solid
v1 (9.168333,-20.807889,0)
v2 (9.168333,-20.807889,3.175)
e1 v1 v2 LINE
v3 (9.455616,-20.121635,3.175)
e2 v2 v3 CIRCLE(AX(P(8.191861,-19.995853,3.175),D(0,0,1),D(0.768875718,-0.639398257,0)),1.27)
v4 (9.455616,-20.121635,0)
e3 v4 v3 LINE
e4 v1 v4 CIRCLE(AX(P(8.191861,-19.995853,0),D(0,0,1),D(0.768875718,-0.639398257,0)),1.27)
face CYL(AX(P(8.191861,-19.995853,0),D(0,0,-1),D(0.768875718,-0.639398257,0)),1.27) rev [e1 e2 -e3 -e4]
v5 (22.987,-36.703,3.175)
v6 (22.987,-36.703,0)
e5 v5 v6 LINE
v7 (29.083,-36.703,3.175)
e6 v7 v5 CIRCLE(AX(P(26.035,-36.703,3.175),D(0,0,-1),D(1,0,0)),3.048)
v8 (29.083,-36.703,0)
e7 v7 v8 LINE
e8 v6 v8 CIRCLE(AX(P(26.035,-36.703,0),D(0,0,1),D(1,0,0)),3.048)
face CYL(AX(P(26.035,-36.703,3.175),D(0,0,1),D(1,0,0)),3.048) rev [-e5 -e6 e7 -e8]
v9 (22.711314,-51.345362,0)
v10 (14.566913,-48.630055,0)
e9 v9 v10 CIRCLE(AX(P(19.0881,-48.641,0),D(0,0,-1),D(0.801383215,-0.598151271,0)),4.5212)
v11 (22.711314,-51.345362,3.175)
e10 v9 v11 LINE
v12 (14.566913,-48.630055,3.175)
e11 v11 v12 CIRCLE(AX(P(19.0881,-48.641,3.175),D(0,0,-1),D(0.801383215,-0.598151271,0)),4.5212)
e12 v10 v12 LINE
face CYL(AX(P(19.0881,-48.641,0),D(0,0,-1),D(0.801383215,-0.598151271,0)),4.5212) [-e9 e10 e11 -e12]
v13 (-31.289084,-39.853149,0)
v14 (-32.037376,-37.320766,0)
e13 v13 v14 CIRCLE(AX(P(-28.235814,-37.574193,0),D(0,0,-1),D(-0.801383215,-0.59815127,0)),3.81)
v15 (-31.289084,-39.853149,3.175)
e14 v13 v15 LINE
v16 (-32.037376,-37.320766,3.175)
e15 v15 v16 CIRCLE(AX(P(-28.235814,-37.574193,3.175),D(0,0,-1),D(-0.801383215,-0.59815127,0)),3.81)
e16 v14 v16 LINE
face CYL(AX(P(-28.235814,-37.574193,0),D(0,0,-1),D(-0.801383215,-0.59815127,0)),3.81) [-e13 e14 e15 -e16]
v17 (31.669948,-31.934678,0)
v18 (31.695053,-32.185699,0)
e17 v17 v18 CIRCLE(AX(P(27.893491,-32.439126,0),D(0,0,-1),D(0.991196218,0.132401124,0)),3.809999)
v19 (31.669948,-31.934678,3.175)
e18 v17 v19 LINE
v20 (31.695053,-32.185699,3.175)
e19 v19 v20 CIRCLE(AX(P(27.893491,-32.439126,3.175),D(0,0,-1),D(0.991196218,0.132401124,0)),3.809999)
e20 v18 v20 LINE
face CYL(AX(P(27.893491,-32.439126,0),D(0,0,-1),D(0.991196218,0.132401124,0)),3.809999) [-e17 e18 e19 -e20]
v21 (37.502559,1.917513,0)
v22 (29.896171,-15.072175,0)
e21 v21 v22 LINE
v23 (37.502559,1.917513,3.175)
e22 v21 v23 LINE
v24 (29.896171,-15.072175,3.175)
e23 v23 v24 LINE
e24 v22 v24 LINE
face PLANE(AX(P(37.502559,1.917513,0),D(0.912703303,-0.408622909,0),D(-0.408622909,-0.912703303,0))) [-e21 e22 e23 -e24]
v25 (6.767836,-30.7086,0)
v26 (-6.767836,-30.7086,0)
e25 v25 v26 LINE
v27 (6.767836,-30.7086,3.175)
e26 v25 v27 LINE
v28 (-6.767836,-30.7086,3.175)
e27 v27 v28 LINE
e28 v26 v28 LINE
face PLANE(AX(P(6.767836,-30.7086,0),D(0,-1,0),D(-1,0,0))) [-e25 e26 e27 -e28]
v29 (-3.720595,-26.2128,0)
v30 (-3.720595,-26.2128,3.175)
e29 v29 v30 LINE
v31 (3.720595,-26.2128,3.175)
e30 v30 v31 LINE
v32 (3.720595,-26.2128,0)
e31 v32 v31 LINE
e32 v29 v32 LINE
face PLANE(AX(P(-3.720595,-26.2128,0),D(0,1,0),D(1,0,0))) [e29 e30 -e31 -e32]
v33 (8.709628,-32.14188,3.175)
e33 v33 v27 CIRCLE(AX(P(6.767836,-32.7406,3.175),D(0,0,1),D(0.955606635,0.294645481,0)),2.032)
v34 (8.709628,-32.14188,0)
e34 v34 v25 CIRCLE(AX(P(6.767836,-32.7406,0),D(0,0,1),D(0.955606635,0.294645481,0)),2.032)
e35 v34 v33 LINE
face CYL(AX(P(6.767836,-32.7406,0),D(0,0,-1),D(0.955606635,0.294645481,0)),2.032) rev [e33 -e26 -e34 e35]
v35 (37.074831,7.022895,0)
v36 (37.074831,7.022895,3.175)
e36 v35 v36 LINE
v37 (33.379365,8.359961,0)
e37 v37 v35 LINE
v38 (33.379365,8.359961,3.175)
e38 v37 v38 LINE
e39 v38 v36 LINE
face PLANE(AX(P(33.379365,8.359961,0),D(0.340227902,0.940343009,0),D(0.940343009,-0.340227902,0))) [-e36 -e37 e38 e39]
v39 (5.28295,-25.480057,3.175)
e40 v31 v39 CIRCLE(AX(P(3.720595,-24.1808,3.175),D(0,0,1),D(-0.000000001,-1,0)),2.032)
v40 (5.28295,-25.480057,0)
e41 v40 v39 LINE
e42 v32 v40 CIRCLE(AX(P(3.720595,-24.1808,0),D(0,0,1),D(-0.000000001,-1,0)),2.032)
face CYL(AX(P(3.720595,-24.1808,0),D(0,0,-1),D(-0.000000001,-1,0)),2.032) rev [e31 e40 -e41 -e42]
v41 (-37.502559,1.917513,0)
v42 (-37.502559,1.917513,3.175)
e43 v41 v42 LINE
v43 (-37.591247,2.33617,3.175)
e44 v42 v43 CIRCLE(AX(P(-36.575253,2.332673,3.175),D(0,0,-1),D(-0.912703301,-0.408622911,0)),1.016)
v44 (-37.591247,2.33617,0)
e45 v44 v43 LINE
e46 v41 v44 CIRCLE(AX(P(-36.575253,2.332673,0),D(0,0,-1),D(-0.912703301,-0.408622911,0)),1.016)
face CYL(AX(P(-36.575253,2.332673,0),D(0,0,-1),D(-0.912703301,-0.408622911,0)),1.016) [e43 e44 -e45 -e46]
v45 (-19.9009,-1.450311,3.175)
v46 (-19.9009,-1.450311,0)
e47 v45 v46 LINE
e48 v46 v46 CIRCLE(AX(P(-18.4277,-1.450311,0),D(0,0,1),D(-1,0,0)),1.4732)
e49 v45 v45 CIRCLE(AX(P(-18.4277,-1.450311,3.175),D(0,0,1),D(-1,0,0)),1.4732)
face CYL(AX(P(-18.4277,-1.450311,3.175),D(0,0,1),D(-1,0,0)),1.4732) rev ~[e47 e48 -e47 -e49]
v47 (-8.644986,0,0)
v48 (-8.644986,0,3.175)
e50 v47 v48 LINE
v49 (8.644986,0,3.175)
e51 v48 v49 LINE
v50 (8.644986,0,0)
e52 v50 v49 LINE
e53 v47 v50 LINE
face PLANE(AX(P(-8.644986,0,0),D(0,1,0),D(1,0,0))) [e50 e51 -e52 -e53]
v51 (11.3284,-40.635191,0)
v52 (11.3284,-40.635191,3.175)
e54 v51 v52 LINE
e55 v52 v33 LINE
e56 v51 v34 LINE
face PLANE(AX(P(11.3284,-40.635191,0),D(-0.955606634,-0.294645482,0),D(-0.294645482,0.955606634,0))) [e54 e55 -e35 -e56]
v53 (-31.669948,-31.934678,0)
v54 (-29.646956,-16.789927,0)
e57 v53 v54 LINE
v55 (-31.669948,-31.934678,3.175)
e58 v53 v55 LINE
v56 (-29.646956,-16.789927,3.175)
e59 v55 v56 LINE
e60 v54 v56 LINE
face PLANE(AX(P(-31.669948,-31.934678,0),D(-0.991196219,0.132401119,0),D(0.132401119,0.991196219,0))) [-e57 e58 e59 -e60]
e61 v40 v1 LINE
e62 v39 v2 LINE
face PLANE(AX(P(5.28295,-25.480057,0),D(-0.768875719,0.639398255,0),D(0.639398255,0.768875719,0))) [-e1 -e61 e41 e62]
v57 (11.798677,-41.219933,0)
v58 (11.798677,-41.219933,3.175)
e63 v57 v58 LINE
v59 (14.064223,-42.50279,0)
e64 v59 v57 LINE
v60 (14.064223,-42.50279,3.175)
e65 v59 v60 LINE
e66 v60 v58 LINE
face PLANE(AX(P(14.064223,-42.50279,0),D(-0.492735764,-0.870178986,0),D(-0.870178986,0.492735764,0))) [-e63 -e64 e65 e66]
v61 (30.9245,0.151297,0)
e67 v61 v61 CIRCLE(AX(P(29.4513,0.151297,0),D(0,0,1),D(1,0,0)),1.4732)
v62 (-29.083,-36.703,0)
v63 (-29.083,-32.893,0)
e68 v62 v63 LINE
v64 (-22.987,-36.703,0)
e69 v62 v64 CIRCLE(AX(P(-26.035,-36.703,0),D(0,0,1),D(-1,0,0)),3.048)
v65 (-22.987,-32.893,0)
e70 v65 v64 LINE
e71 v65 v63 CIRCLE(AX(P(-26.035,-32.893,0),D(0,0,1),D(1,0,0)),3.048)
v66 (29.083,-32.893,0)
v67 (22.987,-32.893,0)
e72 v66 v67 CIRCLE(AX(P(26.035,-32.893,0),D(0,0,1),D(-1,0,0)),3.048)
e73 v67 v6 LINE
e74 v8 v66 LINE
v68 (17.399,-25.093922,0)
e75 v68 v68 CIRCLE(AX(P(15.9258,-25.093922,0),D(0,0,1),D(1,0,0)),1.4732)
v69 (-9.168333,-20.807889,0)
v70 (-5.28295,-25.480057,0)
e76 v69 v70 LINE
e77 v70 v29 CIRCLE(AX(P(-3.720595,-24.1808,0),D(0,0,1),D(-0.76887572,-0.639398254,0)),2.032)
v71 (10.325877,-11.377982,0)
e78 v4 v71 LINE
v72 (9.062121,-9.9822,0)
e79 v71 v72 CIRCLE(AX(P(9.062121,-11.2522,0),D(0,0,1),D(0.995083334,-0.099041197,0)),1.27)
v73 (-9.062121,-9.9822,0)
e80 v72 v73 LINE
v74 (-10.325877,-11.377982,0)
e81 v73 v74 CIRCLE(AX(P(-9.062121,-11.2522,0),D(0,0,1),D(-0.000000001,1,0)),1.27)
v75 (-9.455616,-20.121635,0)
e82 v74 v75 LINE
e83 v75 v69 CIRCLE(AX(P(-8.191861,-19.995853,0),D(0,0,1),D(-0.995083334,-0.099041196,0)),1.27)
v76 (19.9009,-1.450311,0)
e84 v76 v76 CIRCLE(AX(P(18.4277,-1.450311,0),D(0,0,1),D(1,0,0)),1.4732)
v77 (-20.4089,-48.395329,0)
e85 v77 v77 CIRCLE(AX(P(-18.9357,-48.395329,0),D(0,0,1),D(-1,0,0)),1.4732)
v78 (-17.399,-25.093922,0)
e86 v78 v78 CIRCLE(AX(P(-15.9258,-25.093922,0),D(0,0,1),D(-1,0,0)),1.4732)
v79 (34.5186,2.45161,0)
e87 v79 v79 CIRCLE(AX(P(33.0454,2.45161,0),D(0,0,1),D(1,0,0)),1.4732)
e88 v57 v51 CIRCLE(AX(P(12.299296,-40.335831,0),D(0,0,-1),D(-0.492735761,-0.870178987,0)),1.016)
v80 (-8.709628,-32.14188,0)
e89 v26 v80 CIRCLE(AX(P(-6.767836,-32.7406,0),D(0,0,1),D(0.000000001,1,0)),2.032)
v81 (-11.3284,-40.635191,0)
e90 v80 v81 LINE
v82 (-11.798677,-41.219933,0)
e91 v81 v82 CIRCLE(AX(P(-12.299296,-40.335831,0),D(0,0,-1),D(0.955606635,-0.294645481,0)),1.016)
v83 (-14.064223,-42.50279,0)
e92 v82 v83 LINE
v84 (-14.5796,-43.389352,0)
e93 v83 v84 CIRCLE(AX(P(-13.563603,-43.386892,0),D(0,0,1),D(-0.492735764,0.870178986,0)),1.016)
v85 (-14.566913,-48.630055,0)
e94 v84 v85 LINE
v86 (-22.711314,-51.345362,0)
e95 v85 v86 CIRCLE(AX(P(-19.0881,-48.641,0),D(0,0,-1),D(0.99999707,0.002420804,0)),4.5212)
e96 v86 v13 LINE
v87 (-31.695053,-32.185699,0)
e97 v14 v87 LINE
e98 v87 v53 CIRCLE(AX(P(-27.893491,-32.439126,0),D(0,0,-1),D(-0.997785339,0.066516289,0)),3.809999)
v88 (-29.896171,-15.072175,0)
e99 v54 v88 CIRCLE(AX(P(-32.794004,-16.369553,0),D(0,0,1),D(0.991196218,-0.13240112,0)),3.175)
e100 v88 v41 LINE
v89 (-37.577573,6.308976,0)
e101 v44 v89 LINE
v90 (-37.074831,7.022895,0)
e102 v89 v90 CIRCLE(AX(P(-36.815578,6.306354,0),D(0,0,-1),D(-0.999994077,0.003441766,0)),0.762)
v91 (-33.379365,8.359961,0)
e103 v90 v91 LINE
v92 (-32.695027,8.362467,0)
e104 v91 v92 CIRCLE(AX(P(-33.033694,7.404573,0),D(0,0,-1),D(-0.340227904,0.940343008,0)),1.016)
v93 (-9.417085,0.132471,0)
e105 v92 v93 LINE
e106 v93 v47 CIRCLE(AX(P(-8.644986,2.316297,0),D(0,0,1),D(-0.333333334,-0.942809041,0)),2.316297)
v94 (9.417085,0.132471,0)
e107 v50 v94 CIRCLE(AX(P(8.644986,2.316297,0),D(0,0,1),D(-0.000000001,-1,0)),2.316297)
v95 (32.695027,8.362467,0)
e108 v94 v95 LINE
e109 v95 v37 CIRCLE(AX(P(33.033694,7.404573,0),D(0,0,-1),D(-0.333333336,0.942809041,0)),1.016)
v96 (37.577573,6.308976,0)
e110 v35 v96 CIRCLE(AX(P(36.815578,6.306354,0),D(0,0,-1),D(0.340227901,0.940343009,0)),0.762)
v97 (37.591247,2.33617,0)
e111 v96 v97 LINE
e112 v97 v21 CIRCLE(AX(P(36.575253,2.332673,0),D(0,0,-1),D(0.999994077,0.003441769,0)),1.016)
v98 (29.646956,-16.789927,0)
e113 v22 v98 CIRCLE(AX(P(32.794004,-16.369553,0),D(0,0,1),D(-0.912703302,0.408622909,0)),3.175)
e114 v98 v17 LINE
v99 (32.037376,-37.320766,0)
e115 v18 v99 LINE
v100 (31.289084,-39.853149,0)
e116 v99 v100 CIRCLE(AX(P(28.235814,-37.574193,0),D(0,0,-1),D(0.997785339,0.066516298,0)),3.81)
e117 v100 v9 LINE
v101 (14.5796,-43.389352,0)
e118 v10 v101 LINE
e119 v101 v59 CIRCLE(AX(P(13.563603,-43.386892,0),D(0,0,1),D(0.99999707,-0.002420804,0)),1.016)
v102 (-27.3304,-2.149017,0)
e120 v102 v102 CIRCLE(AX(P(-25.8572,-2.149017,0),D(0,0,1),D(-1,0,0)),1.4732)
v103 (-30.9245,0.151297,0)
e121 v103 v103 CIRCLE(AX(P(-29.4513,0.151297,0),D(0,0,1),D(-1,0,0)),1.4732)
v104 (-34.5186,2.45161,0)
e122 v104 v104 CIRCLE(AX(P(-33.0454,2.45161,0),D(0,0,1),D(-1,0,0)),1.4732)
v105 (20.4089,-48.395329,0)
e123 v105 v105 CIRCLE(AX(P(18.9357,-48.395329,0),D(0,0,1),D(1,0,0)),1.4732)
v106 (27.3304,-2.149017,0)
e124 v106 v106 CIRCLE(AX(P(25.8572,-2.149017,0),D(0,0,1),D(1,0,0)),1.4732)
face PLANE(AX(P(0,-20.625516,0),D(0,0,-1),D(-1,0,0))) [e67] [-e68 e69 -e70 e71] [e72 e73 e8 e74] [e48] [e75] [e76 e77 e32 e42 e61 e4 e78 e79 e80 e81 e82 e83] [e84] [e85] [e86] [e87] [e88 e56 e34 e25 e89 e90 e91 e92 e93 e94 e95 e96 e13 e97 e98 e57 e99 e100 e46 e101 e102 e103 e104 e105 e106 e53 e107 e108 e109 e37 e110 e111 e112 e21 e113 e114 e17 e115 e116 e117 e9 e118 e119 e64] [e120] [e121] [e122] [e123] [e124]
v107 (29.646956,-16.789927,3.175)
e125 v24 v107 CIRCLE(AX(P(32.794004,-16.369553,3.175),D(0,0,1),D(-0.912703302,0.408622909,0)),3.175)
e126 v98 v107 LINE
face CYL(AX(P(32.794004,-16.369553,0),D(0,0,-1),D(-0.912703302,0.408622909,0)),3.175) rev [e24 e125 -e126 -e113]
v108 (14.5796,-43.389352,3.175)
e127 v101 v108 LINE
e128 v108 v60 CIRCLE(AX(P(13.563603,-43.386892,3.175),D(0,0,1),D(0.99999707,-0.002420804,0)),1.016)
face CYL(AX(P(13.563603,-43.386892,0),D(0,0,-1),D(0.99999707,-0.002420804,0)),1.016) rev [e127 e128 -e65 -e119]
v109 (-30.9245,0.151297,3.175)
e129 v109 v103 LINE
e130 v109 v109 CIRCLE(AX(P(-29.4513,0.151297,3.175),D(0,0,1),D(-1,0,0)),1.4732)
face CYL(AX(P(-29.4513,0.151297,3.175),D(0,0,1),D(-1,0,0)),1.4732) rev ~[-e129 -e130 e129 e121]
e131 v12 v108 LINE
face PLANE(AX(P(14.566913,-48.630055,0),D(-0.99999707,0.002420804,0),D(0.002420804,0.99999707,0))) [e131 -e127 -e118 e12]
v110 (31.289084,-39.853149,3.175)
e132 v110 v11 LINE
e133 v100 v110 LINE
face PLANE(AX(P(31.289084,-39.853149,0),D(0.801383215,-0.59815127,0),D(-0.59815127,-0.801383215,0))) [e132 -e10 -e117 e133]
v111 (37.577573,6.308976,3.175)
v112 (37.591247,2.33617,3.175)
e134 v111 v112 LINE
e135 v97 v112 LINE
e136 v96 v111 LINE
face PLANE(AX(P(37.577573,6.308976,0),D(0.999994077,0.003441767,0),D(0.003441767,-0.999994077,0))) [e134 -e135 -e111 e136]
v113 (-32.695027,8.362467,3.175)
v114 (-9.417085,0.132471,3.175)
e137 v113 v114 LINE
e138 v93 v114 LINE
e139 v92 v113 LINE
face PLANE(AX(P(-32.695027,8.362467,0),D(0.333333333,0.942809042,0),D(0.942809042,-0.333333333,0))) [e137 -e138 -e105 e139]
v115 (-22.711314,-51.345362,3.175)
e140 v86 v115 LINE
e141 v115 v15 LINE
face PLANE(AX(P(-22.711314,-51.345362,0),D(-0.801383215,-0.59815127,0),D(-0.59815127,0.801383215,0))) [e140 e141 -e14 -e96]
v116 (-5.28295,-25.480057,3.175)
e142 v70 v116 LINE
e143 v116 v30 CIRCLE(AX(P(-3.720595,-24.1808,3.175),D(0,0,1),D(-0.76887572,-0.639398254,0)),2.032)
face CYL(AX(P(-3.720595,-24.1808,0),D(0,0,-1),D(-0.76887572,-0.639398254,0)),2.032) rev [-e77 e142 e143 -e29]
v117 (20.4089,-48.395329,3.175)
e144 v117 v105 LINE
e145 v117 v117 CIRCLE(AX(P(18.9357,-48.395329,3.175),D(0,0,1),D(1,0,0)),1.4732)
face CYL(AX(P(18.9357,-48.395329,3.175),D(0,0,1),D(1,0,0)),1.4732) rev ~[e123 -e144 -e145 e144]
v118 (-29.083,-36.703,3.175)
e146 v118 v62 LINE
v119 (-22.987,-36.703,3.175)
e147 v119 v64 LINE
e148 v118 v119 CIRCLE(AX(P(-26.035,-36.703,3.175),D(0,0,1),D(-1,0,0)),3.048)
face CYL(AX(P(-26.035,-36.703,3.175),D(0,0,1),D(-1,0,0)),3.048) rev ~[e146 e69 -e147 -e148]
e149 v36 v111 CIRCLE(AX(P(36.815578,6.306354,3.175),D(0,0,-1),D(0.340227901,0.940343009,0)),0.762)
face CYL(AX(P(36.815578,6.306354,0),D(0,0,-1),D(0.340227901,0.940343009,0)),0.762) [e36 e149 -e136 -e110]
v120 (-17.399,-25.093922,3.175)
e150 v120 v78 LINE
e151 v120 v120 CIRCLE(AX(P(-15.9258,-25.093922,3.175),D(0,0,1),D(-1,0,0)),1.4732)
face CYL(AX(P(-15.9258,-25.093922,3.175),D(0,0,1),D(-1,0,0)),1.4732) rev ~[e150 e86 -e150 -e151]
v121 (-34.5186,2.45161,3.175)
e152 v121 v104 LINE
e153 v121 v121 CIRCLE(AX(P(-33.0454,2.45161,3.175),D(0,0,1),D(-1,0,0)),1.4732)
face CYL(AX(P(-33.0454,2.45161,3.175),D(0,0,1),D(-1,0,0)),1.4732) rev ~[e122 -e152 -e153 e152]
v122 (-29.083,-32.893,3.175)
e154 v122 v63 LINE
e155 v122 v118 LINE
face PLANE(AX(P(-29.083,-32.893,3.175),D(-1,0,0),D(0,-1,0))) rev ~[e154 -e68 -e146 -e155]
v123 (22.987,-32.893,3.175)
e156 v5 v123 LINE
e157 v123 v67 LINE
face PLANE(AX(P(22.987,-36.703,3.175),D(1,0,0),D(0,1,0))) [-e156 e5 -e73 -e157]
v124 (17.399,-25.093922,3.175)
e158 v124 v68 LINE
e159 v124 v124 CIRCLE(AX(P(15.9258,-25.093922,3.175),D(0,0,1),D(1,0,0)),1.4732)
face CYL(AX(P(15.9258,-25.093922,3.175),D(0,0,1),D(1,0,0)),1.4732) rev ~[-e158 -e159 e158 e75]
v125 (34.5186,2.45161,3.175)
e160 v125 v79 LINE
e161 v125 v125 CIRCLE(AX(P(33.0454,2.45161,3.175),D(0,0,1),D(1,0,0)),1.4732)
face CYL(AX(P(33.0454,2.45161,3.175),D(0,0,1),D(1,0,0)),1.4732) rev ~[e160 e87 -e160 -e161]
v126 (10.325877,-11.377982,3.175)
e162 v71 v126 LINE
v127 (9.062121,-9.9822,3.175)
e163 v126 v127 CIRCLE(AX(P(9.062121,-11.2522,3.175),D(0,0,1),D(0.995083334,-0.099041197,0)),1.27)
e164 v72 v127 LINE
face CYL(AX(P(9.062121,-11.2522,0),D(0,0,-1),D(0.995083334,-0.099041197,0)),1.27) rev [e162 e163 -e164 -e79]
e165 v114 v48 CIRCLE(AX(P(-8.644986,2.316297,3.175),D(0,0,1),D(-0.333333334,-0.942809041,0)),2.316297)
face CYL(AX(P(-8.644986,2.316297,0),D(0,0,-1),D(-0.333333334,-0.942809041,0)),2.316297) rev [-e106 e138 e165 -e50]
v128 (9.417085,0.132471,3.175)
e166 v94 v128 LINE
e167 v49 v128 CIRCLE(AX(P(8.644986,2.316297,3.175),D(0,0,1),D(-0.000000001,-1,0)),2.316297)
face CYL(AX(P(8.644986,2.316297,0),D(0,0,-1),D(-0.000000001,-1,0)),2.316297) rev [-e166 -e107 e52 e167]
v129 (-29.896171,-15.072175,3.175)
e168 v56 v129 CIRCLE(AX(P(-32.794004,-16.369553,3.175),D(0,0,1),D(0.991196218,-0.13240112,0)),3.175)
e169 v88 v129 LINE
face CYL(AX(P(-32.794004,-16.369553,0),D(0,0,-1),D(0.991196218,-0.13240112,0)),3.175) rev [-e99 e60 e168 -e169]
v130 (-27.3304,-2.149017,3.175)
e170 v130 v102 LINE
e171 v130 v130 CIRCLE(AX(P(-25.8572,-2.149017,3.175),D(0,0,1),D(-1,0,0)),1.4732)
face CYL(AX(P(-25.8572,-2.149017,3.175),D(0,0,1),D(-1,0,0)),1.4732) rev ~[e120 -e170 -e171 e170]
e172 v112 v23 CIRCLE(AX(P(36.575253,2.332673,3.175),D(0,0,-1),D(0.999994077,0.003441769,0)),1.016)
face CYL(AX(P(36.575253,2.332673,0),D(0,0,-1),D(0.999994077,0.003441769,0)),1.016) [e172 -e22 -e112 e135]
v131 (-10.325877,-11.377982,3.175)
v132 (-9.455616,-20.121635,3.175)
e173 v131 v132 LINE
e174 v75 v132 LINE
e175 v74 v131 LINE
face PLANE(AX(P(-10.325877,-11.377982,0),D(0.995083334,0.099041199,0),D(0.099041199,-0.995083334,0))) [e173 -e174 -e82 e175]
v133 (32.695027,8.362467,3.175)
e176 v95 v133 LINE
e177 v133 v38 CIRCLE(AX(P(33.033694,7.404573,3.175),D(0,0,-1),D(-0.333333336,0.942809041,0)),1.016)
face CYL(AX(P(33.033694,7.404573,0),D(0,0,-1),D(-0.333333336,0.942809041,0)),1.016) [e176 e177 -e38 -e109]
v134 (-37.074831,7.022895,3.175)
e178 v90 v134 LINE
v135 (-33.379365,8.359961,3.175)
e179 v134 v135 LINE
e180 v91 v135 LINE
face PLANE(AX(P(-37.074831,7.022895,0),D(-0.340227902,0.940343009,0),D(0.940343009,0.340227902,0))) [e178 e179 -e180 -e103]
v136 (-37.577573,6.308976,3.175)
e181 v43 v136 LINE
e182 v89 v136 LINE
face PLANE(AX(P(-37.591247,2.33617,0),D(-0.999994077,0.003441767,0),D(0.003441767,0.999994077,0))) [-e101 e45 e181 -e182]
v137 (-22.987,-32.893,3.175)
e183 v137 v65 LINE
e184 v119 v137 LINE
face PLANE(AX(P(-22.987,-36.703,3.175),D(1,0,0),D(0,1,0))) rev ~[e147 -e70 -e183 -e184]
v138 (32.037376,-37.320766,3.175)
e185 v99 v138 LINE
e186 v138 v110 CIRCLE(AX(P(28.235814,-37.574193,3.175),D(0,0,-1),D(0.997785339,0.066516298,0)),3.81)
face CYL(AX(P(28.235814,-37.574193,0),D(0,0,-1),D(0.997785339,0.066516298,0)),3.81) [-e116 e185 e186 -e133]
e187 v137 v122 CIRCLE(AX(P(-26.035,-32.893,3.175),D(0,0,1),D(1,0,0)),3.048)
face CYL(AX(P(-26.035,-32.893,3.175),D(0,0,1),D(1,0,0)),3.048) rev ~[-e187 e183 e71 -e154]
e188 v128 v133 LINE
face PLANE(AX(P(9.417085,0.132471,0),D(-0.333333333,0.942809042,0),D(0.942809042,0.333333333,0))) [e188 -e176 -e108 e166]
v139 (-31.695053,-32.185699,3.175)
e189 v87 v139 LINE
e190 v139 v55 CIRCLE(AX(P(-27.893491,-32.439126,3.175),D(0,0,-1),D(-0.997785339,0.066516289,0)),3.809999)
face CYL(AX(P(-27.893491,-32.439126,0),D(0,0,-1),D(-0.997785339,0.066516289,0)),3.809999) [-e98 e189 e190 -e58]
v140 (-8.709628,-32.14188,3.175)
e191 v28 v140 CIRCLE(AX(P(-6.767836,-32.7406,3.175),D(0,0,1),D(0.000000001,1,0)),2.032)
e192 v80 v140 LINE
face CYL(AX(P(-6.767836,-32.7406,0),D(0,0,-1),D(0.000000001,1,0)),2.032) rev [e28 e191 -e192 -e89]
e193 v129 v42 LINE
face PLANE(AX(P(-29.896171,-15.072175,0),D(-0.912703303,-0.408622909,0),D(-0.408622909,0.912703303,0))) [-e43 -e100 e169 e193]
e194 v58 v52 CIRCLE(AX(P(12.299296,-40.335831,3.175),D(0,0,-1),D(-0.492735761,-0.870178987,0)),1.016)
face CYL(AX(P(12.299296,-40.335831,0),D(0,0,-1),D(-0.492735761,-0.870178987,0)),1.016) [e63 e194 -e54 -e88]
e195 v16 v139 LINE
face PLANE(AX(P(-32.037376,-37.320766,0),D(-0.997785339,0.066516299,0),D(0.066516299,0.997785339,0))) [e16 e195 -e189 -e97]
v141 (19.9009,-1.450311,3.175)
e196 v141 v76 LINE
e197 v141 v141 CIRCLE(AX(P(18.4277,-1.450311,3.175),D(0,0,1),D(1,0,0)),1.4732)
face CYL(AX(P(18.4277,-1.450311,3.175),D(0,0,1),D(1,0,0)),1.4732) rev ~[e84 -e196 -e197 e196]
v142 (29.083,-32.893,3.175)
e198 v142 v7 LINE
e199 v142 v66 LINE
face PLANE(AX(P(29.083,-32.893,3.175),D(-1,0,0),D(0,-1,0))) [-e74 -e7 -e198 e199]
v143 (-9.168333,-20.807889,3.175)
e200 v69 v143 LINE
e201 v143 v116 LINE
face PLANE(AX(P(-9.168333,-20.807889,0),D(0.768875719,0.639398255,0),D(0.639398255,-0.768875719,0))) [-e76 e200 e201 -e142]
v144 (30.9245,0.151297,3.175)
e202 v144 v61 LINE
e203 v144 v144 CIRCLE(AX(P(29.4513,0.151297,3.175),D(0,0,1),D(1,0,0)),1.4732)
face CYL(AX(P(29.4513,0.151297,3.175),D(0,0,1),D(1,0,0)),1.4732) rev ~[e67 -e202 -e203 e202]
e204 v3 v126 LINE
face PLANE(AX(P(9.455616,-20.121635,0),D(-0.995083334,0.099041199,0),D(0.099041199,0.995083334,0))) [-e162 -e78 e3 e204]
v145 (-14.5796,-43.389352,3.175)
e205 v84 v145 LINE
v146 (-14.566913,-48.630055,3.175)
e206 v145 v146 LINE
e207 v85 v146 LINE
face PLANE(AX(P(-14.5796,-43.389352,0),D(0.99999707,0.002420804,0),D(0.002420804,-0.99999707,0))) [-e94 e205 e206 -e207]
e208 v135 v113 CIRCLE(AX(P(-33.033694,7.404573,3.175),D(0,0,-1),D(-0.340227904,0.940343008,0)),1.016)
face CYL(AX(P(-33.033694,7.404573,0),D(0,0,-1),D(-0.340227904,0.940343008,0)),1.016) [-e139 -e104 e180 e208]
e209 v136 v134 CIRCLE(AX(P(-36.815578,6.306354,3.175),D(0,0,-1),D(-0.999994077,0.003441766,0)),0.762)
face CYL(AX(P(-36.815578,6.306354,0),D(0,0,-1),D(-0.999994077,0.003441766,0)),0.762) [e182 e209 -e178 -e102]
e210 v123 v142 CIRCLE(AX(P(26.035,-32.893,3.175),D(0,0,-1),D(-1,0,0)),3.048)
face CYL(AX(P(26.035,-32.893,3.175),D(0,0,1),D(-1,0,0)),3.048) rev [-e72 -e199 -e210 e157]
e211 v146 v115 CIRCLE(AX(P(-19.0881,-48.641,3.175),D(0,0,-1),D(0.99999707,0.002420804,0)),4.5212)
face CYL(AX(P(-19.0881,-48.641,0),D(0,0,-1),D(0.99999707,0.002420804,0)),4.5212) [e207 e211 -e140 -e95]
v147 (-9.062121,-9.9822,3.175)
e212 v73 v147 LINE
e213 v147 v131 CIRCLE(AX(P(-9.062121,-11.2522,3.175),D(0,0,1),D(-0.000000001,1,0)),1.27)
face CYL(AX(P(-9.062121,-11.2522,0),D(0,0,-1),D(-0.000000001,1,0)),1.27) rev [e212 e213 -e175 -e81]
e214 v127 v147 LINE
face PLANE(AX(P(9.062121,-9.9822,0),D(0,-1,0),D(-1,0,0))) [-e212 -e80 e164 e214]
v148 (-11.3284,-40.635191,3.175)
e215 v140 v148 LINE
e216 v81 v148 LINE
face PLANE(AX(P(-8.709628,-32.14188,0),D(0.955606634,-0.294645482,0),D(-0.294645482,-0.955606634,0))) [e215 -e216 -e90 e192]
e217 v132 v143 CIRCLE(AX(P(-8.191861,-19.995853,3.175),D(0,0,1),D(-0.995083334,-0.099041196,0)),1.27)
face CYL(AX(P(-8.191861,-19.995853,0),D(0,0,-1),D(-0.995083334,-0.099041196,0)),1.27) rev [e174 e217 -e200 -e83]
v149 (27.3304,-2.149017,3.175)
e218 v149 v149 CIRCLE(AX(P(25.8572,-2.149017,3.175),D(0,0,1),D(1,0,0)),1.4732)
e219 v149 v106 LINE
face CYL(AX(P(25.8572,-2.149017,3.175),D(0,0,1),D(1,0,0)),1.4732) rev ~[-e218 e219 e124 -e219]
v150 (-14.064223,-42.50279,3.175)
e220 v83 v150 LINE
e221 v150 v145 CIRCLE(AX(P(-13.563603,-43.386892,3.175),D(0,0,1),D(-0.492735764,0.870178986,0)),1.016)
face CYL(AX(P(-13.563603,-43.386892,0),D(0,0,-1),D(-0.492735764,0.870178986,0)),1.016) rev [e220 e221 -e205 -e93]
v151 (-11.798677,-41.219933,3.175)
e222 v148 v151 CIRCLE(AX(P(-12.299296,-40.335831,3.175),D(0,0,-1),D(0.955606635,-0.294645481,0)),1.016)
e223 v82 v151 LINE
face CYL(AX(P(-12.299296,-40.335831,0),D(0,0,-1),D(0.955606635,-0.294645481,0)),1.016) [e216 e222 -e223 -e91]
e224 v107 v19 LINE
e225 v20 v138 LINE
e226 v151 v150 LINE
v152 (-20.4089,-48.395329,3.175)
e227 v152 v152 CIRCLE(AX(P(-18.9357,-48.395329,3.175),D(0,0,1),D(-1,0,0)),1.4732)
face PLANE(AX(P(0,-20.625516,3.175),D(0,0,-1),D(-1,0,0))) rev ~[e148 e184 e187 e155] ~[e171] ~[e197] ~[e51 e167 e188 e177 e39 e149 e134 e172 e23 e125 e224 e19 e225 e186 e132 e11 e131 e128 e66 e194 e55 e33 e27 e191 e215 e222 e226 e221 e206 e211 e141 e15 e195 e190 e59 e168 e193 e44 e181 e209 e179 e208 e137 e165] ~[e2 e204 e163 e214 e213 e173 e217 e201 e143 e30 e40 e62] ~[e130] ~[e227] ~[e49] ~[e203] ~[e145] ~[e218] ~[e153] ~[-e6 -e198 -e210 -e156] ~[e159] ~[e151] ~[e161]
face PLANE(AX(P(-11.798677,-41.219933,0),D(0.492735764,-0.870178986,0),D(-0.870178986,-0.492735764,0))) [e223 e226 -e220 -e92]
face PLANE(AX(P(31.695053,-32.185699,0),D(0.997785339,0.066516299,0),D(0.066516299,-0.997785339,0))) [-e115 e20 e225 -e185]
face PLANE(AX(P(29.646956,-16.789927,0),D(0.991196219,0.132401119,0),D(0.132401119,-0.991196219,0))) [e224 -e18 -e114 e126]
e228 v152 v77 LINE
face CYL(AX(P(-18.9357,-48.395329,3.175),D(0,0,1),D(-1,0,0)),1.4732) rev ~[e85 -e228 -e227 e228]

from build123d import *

# Parameters (mm, degrees)
BOSS_EXTRUDE1_DEPTH = 3.175
SKETCH2_R           = 1.4732
CUT_EXTRUDE1_DEPTH  = 66.187440595


with BuildPart() as part:
    # Sketch1 → Boss-Extrude1 (new body)
    with BuildSketch(Plane.XY):
        with BuildLine():
            Line((-8.644986321, 0), (8.644986321, 0))
            ThreePointArc((8.644986321, 0), (9.036676671, 0.033358008), (9.41708521, 0.132471226))
            Line((9.41708521, 0.132471226), (32.695027169, 8.362466532))
            ThreePointArc((32.695027169, 8.362466532), (33.037413575, 8.420565737), (33.379365385, 8.359961043))
            Line((33.379365385, 8.359961043), (37.074831276, 7.022895104))
            ThreePointArc((37.074831276, 7.022895104), (37.438600447, 6.745086623), (37.577573101, 6.308976358))
            Line((37.577573101, 6.308976358), (37.591246654, 2.336170232))
            ThreePointArc((37.591246654, 2.336170232), (37.569195736, 2.122118926), (37.502559227, 1.917512522))
            Line((37.502559227, 1.917512522), (29.896170993, -15.072175319))
            ThreePointArc((29.896170993, -15.072175319), (29.651900561, -15.913690011), (29.646955985, -16.789926606))
            Line((29.646955985, -16.789926606), (31.669948024, -31.934678241))
            ThreePointArc((31.669948024, -31.934678241), (31.684578491, -32.059980985), (31.695052571, -32.185699407))
            Line((31.695052571, -32.185699407), (32.037376325, -37.320766007))
            ThreePointArc((32.037376325, -37.320766007), (31.88963719, -38.653858534), (31.289084234, -39.853149444))
            Line((31.289084234, -39.853149444), (22.711313793, -51.345361524))
            ThreePointArc((22.711313793, -51.345361524), (17.658131065, -52.930106933), (14.566913248, -48.630055061))
            Line((14.566913248, -48.630055061), (14.5796, -43.389351757))
            ThreePointArc((14.5796, -43.389351757), (14.441970337, -42.876278099), (14.064222513, -42.502790371))
            Line((14.064222513, -42.502790371), (11.798676805, -41.21993315))
            ThreePointArc((11.798676805, -41.21993315), (11.507576341, -40.972569428), (11.3284, -40.635191111))
            Line((11.3284, -40.635191111), (8.709628272, -32.14188038))
            ThreePointArc((8.709628272, -32.14188038), (7.974572044, -31.105726569), (6.767835591, -30.7086))
            Line((6.767835591, -30.7086), (-6.767835591, -30.7086))
            ThreePointArc((-6.767835591, -30.7086), (-7.974572044, -31.105726569), (-8.709628272, -32.14188038))
            Line((-8.709628272, -32.14188038), (-11.3284, -40.635191111))
            ThreePointArc((-11.3284, -40.635191111), (-11.507576341, -40.972569428), (-11.798676805, -41.21993315))
            Line((-11.798676805, -41.21993315), (-14.064222513, -42.502790371))
            ThreePointArc((-14.064222513, -42.502790371), (-14.441970337, -42.876278099), (-14.5796, -43.389351757))
            Line((-14.5796, -43.389351757), (-14.566913248, -48.630055061))
            ThreePointArc((-14.566913248, -48.630055061), (-17.658131065, -52.930106933), (-22.711313793, -51.345361524))
            Line((-22.711313793, -51.345361524), (-31.289084234, -39.853149444))
            ThreePointArc((-31.289084234, -39.853149444), (-31.88963719, -38.653858534), (-32.037376325, -37.320766007))
            Line((-32.037376325, -37.320766007), (-31.695052571, -32.185699407))
            ThreePointArc((-31.695052571, -32.185699407), (-31.684578491, -32.059980985), (-31.669948024, -31.934678241))
            Line((-31.669948024, -31.934678241), (-29.646955985, -16.789926606))
            ThreePointArc((-29.646955985, -16.789926606), (-29.651900561, -15.913690011), (-29.896170993, -15.072175319))
            Line((-29.896170993, -15.072175319), (-37.502559227, 1.917512522))
            ThreePointArc((-37.502559227, 1.917512522), (-37.569195736, 2.122118926), (-37.591246654, 2.336170232))
            Line((-37.591246654, 2.336170232), (-37.577573101, 6.308976358))
            ThreePointArc((-37.577573101, 6.308976358), (-37.438600447, 6.745086623), (-37.074831276, 7.022895104))
            Line((-37.074831276, 7.022895104), (-33.379365385, 8.359961043))
            ThreePointArc((-33.379365385, 8.359961043), (-33.037413575, 8.420565737), (-32.695027169, 8.362466532))
            Line((-32.695027169, 8.362466532), (-9.41708521, 0.132471226))
            ThreePointArc((-9.41708521, 0.132471226), (-9.036676671, 0.033358008), (-8.644986321, 0))
        make_face()
        with BuildLine():
            Line((-3.720594556, -26.2128), (3.720594556, -26.2128))
            ThreePointArc((3.720594556, -26.2128), (4.583419353, -26.020516655), (5.282950018, -25.480057253))
            Line((5.282950018, -25.480057253), (9.168332687, -20.807888736))
            ThreePointArc((9.168332687, -20.807888736), (9.363351592, -20.486269793), (9.455616357, -20.121635275))
            Line((9.455616357, -20.121635275), (10.325877008, -11.377982322))
            ThreePointArc((10.325877008, -11.377982322), (10.003567813, -10.39980442), (9.062121174, -9.9822))
            Line((9.062121174, -9.9822), (-9.062121174, -9.9822))
            ThreePointArc((-9.062121174, -9.9822), (-10.003567813, -10.39980442), (-10.325877008, -11.377982322))
            Line((-10.325877008, -11.377982322), (-9.455616357, -20.121635275))
            ThreePointArc((-9.455616357, -20.121635275), (-9.363351592, -20.486269793), (-9.168332687, -20.807888736))
            Line((-9.168332687, -20.807888736), (-5.282950018, -25.480057253))
            ThreePointArc((-5.282950018, -25.480057253), (-4.583419353, -26.020516655), (-3.720594556, -26.2128))
        make_face(mode=Mode.SUBTRACT)
    extrude(amount=BOSS_EXTRUDE1_DEPTH)

    # Sketch2 → Cut-Extrude1 (cut, through all)
    with BuildSketch(Plane.XY.offset(3.175)):
        with Locations((33.0454, 2.451609921)):
            Circle(SKETCH2_R)
        with Locations((29.4513, 0.151296675)):
            Circle(SKETCH2_R)
        with Locations((25.8572, -2.149016571)):
            Circle(SKETCH2_R)
        with Locations((18.4277, -1.450311364)):
            Circle(SKETCH2_R)
        with Locations((15.9258, -25.093922391)):
            Circle(SKETCH2_R)
        with Locations((18.9357, -48.395328507)):
            Circle(SKETCH2_R)
        with Locations(Location((-18.9357, -48.395328507, 0), (0, 0, 180))):
            Circle(SKETCH2_R)
        with Locations(Location((-15.9258, -25.093922391, 0), (0, 0, 180))):
            Circle(SKETCH2_R)
        with Locations(Location((-18.4277, -1.450311364, 0), (0, 0, 180))):
            Circle(SKETCH2_R)
        with Locations(Location((-25.8572, -2.149016571, 0), (0, 0, 180))):
            Circle(SKETCH2_R)
        with Locations(Location((-29.4513, 0.151296675, 0), (0, 0, 180))):
            Circle(SKETCH2_R)
        with Locations(Location((-33.0454, 2.451609921, 0), (0, 0, 180))):
            Circle(SKETCH2_R)
        with BuildLine():
            Line((29.083, -32.893), (29.083, -36.703))
            ThreePointArc((29.083, -36.703), (26.035, -39.751), (22.987, -36.703))
            Line((22.987, -36.703), (22.987, -32.893))
            ThreePointArc((22.987, -32.893), (26.035, -29.845), (29.083, -32.893))
        make_face()
        with BuildLine():
            Line((-29.083, -32.893), (-29.083, -36.703))
            ThreePointArc((-29.083, -36.703), (-26.035, -39.751), (-22.987, -36.703))
            Line((-22.987, -36.703), (-22.987, -32.893))
            ThreePointArc((-22.987, -32.893), (-26.035, -29.845), (-29.083, -32.893))
        make_face()
    extrude(amount=-CUT_EXTRUDE1_DEPTH, mode=Mode.SUBTRACT)


solid = part.part
